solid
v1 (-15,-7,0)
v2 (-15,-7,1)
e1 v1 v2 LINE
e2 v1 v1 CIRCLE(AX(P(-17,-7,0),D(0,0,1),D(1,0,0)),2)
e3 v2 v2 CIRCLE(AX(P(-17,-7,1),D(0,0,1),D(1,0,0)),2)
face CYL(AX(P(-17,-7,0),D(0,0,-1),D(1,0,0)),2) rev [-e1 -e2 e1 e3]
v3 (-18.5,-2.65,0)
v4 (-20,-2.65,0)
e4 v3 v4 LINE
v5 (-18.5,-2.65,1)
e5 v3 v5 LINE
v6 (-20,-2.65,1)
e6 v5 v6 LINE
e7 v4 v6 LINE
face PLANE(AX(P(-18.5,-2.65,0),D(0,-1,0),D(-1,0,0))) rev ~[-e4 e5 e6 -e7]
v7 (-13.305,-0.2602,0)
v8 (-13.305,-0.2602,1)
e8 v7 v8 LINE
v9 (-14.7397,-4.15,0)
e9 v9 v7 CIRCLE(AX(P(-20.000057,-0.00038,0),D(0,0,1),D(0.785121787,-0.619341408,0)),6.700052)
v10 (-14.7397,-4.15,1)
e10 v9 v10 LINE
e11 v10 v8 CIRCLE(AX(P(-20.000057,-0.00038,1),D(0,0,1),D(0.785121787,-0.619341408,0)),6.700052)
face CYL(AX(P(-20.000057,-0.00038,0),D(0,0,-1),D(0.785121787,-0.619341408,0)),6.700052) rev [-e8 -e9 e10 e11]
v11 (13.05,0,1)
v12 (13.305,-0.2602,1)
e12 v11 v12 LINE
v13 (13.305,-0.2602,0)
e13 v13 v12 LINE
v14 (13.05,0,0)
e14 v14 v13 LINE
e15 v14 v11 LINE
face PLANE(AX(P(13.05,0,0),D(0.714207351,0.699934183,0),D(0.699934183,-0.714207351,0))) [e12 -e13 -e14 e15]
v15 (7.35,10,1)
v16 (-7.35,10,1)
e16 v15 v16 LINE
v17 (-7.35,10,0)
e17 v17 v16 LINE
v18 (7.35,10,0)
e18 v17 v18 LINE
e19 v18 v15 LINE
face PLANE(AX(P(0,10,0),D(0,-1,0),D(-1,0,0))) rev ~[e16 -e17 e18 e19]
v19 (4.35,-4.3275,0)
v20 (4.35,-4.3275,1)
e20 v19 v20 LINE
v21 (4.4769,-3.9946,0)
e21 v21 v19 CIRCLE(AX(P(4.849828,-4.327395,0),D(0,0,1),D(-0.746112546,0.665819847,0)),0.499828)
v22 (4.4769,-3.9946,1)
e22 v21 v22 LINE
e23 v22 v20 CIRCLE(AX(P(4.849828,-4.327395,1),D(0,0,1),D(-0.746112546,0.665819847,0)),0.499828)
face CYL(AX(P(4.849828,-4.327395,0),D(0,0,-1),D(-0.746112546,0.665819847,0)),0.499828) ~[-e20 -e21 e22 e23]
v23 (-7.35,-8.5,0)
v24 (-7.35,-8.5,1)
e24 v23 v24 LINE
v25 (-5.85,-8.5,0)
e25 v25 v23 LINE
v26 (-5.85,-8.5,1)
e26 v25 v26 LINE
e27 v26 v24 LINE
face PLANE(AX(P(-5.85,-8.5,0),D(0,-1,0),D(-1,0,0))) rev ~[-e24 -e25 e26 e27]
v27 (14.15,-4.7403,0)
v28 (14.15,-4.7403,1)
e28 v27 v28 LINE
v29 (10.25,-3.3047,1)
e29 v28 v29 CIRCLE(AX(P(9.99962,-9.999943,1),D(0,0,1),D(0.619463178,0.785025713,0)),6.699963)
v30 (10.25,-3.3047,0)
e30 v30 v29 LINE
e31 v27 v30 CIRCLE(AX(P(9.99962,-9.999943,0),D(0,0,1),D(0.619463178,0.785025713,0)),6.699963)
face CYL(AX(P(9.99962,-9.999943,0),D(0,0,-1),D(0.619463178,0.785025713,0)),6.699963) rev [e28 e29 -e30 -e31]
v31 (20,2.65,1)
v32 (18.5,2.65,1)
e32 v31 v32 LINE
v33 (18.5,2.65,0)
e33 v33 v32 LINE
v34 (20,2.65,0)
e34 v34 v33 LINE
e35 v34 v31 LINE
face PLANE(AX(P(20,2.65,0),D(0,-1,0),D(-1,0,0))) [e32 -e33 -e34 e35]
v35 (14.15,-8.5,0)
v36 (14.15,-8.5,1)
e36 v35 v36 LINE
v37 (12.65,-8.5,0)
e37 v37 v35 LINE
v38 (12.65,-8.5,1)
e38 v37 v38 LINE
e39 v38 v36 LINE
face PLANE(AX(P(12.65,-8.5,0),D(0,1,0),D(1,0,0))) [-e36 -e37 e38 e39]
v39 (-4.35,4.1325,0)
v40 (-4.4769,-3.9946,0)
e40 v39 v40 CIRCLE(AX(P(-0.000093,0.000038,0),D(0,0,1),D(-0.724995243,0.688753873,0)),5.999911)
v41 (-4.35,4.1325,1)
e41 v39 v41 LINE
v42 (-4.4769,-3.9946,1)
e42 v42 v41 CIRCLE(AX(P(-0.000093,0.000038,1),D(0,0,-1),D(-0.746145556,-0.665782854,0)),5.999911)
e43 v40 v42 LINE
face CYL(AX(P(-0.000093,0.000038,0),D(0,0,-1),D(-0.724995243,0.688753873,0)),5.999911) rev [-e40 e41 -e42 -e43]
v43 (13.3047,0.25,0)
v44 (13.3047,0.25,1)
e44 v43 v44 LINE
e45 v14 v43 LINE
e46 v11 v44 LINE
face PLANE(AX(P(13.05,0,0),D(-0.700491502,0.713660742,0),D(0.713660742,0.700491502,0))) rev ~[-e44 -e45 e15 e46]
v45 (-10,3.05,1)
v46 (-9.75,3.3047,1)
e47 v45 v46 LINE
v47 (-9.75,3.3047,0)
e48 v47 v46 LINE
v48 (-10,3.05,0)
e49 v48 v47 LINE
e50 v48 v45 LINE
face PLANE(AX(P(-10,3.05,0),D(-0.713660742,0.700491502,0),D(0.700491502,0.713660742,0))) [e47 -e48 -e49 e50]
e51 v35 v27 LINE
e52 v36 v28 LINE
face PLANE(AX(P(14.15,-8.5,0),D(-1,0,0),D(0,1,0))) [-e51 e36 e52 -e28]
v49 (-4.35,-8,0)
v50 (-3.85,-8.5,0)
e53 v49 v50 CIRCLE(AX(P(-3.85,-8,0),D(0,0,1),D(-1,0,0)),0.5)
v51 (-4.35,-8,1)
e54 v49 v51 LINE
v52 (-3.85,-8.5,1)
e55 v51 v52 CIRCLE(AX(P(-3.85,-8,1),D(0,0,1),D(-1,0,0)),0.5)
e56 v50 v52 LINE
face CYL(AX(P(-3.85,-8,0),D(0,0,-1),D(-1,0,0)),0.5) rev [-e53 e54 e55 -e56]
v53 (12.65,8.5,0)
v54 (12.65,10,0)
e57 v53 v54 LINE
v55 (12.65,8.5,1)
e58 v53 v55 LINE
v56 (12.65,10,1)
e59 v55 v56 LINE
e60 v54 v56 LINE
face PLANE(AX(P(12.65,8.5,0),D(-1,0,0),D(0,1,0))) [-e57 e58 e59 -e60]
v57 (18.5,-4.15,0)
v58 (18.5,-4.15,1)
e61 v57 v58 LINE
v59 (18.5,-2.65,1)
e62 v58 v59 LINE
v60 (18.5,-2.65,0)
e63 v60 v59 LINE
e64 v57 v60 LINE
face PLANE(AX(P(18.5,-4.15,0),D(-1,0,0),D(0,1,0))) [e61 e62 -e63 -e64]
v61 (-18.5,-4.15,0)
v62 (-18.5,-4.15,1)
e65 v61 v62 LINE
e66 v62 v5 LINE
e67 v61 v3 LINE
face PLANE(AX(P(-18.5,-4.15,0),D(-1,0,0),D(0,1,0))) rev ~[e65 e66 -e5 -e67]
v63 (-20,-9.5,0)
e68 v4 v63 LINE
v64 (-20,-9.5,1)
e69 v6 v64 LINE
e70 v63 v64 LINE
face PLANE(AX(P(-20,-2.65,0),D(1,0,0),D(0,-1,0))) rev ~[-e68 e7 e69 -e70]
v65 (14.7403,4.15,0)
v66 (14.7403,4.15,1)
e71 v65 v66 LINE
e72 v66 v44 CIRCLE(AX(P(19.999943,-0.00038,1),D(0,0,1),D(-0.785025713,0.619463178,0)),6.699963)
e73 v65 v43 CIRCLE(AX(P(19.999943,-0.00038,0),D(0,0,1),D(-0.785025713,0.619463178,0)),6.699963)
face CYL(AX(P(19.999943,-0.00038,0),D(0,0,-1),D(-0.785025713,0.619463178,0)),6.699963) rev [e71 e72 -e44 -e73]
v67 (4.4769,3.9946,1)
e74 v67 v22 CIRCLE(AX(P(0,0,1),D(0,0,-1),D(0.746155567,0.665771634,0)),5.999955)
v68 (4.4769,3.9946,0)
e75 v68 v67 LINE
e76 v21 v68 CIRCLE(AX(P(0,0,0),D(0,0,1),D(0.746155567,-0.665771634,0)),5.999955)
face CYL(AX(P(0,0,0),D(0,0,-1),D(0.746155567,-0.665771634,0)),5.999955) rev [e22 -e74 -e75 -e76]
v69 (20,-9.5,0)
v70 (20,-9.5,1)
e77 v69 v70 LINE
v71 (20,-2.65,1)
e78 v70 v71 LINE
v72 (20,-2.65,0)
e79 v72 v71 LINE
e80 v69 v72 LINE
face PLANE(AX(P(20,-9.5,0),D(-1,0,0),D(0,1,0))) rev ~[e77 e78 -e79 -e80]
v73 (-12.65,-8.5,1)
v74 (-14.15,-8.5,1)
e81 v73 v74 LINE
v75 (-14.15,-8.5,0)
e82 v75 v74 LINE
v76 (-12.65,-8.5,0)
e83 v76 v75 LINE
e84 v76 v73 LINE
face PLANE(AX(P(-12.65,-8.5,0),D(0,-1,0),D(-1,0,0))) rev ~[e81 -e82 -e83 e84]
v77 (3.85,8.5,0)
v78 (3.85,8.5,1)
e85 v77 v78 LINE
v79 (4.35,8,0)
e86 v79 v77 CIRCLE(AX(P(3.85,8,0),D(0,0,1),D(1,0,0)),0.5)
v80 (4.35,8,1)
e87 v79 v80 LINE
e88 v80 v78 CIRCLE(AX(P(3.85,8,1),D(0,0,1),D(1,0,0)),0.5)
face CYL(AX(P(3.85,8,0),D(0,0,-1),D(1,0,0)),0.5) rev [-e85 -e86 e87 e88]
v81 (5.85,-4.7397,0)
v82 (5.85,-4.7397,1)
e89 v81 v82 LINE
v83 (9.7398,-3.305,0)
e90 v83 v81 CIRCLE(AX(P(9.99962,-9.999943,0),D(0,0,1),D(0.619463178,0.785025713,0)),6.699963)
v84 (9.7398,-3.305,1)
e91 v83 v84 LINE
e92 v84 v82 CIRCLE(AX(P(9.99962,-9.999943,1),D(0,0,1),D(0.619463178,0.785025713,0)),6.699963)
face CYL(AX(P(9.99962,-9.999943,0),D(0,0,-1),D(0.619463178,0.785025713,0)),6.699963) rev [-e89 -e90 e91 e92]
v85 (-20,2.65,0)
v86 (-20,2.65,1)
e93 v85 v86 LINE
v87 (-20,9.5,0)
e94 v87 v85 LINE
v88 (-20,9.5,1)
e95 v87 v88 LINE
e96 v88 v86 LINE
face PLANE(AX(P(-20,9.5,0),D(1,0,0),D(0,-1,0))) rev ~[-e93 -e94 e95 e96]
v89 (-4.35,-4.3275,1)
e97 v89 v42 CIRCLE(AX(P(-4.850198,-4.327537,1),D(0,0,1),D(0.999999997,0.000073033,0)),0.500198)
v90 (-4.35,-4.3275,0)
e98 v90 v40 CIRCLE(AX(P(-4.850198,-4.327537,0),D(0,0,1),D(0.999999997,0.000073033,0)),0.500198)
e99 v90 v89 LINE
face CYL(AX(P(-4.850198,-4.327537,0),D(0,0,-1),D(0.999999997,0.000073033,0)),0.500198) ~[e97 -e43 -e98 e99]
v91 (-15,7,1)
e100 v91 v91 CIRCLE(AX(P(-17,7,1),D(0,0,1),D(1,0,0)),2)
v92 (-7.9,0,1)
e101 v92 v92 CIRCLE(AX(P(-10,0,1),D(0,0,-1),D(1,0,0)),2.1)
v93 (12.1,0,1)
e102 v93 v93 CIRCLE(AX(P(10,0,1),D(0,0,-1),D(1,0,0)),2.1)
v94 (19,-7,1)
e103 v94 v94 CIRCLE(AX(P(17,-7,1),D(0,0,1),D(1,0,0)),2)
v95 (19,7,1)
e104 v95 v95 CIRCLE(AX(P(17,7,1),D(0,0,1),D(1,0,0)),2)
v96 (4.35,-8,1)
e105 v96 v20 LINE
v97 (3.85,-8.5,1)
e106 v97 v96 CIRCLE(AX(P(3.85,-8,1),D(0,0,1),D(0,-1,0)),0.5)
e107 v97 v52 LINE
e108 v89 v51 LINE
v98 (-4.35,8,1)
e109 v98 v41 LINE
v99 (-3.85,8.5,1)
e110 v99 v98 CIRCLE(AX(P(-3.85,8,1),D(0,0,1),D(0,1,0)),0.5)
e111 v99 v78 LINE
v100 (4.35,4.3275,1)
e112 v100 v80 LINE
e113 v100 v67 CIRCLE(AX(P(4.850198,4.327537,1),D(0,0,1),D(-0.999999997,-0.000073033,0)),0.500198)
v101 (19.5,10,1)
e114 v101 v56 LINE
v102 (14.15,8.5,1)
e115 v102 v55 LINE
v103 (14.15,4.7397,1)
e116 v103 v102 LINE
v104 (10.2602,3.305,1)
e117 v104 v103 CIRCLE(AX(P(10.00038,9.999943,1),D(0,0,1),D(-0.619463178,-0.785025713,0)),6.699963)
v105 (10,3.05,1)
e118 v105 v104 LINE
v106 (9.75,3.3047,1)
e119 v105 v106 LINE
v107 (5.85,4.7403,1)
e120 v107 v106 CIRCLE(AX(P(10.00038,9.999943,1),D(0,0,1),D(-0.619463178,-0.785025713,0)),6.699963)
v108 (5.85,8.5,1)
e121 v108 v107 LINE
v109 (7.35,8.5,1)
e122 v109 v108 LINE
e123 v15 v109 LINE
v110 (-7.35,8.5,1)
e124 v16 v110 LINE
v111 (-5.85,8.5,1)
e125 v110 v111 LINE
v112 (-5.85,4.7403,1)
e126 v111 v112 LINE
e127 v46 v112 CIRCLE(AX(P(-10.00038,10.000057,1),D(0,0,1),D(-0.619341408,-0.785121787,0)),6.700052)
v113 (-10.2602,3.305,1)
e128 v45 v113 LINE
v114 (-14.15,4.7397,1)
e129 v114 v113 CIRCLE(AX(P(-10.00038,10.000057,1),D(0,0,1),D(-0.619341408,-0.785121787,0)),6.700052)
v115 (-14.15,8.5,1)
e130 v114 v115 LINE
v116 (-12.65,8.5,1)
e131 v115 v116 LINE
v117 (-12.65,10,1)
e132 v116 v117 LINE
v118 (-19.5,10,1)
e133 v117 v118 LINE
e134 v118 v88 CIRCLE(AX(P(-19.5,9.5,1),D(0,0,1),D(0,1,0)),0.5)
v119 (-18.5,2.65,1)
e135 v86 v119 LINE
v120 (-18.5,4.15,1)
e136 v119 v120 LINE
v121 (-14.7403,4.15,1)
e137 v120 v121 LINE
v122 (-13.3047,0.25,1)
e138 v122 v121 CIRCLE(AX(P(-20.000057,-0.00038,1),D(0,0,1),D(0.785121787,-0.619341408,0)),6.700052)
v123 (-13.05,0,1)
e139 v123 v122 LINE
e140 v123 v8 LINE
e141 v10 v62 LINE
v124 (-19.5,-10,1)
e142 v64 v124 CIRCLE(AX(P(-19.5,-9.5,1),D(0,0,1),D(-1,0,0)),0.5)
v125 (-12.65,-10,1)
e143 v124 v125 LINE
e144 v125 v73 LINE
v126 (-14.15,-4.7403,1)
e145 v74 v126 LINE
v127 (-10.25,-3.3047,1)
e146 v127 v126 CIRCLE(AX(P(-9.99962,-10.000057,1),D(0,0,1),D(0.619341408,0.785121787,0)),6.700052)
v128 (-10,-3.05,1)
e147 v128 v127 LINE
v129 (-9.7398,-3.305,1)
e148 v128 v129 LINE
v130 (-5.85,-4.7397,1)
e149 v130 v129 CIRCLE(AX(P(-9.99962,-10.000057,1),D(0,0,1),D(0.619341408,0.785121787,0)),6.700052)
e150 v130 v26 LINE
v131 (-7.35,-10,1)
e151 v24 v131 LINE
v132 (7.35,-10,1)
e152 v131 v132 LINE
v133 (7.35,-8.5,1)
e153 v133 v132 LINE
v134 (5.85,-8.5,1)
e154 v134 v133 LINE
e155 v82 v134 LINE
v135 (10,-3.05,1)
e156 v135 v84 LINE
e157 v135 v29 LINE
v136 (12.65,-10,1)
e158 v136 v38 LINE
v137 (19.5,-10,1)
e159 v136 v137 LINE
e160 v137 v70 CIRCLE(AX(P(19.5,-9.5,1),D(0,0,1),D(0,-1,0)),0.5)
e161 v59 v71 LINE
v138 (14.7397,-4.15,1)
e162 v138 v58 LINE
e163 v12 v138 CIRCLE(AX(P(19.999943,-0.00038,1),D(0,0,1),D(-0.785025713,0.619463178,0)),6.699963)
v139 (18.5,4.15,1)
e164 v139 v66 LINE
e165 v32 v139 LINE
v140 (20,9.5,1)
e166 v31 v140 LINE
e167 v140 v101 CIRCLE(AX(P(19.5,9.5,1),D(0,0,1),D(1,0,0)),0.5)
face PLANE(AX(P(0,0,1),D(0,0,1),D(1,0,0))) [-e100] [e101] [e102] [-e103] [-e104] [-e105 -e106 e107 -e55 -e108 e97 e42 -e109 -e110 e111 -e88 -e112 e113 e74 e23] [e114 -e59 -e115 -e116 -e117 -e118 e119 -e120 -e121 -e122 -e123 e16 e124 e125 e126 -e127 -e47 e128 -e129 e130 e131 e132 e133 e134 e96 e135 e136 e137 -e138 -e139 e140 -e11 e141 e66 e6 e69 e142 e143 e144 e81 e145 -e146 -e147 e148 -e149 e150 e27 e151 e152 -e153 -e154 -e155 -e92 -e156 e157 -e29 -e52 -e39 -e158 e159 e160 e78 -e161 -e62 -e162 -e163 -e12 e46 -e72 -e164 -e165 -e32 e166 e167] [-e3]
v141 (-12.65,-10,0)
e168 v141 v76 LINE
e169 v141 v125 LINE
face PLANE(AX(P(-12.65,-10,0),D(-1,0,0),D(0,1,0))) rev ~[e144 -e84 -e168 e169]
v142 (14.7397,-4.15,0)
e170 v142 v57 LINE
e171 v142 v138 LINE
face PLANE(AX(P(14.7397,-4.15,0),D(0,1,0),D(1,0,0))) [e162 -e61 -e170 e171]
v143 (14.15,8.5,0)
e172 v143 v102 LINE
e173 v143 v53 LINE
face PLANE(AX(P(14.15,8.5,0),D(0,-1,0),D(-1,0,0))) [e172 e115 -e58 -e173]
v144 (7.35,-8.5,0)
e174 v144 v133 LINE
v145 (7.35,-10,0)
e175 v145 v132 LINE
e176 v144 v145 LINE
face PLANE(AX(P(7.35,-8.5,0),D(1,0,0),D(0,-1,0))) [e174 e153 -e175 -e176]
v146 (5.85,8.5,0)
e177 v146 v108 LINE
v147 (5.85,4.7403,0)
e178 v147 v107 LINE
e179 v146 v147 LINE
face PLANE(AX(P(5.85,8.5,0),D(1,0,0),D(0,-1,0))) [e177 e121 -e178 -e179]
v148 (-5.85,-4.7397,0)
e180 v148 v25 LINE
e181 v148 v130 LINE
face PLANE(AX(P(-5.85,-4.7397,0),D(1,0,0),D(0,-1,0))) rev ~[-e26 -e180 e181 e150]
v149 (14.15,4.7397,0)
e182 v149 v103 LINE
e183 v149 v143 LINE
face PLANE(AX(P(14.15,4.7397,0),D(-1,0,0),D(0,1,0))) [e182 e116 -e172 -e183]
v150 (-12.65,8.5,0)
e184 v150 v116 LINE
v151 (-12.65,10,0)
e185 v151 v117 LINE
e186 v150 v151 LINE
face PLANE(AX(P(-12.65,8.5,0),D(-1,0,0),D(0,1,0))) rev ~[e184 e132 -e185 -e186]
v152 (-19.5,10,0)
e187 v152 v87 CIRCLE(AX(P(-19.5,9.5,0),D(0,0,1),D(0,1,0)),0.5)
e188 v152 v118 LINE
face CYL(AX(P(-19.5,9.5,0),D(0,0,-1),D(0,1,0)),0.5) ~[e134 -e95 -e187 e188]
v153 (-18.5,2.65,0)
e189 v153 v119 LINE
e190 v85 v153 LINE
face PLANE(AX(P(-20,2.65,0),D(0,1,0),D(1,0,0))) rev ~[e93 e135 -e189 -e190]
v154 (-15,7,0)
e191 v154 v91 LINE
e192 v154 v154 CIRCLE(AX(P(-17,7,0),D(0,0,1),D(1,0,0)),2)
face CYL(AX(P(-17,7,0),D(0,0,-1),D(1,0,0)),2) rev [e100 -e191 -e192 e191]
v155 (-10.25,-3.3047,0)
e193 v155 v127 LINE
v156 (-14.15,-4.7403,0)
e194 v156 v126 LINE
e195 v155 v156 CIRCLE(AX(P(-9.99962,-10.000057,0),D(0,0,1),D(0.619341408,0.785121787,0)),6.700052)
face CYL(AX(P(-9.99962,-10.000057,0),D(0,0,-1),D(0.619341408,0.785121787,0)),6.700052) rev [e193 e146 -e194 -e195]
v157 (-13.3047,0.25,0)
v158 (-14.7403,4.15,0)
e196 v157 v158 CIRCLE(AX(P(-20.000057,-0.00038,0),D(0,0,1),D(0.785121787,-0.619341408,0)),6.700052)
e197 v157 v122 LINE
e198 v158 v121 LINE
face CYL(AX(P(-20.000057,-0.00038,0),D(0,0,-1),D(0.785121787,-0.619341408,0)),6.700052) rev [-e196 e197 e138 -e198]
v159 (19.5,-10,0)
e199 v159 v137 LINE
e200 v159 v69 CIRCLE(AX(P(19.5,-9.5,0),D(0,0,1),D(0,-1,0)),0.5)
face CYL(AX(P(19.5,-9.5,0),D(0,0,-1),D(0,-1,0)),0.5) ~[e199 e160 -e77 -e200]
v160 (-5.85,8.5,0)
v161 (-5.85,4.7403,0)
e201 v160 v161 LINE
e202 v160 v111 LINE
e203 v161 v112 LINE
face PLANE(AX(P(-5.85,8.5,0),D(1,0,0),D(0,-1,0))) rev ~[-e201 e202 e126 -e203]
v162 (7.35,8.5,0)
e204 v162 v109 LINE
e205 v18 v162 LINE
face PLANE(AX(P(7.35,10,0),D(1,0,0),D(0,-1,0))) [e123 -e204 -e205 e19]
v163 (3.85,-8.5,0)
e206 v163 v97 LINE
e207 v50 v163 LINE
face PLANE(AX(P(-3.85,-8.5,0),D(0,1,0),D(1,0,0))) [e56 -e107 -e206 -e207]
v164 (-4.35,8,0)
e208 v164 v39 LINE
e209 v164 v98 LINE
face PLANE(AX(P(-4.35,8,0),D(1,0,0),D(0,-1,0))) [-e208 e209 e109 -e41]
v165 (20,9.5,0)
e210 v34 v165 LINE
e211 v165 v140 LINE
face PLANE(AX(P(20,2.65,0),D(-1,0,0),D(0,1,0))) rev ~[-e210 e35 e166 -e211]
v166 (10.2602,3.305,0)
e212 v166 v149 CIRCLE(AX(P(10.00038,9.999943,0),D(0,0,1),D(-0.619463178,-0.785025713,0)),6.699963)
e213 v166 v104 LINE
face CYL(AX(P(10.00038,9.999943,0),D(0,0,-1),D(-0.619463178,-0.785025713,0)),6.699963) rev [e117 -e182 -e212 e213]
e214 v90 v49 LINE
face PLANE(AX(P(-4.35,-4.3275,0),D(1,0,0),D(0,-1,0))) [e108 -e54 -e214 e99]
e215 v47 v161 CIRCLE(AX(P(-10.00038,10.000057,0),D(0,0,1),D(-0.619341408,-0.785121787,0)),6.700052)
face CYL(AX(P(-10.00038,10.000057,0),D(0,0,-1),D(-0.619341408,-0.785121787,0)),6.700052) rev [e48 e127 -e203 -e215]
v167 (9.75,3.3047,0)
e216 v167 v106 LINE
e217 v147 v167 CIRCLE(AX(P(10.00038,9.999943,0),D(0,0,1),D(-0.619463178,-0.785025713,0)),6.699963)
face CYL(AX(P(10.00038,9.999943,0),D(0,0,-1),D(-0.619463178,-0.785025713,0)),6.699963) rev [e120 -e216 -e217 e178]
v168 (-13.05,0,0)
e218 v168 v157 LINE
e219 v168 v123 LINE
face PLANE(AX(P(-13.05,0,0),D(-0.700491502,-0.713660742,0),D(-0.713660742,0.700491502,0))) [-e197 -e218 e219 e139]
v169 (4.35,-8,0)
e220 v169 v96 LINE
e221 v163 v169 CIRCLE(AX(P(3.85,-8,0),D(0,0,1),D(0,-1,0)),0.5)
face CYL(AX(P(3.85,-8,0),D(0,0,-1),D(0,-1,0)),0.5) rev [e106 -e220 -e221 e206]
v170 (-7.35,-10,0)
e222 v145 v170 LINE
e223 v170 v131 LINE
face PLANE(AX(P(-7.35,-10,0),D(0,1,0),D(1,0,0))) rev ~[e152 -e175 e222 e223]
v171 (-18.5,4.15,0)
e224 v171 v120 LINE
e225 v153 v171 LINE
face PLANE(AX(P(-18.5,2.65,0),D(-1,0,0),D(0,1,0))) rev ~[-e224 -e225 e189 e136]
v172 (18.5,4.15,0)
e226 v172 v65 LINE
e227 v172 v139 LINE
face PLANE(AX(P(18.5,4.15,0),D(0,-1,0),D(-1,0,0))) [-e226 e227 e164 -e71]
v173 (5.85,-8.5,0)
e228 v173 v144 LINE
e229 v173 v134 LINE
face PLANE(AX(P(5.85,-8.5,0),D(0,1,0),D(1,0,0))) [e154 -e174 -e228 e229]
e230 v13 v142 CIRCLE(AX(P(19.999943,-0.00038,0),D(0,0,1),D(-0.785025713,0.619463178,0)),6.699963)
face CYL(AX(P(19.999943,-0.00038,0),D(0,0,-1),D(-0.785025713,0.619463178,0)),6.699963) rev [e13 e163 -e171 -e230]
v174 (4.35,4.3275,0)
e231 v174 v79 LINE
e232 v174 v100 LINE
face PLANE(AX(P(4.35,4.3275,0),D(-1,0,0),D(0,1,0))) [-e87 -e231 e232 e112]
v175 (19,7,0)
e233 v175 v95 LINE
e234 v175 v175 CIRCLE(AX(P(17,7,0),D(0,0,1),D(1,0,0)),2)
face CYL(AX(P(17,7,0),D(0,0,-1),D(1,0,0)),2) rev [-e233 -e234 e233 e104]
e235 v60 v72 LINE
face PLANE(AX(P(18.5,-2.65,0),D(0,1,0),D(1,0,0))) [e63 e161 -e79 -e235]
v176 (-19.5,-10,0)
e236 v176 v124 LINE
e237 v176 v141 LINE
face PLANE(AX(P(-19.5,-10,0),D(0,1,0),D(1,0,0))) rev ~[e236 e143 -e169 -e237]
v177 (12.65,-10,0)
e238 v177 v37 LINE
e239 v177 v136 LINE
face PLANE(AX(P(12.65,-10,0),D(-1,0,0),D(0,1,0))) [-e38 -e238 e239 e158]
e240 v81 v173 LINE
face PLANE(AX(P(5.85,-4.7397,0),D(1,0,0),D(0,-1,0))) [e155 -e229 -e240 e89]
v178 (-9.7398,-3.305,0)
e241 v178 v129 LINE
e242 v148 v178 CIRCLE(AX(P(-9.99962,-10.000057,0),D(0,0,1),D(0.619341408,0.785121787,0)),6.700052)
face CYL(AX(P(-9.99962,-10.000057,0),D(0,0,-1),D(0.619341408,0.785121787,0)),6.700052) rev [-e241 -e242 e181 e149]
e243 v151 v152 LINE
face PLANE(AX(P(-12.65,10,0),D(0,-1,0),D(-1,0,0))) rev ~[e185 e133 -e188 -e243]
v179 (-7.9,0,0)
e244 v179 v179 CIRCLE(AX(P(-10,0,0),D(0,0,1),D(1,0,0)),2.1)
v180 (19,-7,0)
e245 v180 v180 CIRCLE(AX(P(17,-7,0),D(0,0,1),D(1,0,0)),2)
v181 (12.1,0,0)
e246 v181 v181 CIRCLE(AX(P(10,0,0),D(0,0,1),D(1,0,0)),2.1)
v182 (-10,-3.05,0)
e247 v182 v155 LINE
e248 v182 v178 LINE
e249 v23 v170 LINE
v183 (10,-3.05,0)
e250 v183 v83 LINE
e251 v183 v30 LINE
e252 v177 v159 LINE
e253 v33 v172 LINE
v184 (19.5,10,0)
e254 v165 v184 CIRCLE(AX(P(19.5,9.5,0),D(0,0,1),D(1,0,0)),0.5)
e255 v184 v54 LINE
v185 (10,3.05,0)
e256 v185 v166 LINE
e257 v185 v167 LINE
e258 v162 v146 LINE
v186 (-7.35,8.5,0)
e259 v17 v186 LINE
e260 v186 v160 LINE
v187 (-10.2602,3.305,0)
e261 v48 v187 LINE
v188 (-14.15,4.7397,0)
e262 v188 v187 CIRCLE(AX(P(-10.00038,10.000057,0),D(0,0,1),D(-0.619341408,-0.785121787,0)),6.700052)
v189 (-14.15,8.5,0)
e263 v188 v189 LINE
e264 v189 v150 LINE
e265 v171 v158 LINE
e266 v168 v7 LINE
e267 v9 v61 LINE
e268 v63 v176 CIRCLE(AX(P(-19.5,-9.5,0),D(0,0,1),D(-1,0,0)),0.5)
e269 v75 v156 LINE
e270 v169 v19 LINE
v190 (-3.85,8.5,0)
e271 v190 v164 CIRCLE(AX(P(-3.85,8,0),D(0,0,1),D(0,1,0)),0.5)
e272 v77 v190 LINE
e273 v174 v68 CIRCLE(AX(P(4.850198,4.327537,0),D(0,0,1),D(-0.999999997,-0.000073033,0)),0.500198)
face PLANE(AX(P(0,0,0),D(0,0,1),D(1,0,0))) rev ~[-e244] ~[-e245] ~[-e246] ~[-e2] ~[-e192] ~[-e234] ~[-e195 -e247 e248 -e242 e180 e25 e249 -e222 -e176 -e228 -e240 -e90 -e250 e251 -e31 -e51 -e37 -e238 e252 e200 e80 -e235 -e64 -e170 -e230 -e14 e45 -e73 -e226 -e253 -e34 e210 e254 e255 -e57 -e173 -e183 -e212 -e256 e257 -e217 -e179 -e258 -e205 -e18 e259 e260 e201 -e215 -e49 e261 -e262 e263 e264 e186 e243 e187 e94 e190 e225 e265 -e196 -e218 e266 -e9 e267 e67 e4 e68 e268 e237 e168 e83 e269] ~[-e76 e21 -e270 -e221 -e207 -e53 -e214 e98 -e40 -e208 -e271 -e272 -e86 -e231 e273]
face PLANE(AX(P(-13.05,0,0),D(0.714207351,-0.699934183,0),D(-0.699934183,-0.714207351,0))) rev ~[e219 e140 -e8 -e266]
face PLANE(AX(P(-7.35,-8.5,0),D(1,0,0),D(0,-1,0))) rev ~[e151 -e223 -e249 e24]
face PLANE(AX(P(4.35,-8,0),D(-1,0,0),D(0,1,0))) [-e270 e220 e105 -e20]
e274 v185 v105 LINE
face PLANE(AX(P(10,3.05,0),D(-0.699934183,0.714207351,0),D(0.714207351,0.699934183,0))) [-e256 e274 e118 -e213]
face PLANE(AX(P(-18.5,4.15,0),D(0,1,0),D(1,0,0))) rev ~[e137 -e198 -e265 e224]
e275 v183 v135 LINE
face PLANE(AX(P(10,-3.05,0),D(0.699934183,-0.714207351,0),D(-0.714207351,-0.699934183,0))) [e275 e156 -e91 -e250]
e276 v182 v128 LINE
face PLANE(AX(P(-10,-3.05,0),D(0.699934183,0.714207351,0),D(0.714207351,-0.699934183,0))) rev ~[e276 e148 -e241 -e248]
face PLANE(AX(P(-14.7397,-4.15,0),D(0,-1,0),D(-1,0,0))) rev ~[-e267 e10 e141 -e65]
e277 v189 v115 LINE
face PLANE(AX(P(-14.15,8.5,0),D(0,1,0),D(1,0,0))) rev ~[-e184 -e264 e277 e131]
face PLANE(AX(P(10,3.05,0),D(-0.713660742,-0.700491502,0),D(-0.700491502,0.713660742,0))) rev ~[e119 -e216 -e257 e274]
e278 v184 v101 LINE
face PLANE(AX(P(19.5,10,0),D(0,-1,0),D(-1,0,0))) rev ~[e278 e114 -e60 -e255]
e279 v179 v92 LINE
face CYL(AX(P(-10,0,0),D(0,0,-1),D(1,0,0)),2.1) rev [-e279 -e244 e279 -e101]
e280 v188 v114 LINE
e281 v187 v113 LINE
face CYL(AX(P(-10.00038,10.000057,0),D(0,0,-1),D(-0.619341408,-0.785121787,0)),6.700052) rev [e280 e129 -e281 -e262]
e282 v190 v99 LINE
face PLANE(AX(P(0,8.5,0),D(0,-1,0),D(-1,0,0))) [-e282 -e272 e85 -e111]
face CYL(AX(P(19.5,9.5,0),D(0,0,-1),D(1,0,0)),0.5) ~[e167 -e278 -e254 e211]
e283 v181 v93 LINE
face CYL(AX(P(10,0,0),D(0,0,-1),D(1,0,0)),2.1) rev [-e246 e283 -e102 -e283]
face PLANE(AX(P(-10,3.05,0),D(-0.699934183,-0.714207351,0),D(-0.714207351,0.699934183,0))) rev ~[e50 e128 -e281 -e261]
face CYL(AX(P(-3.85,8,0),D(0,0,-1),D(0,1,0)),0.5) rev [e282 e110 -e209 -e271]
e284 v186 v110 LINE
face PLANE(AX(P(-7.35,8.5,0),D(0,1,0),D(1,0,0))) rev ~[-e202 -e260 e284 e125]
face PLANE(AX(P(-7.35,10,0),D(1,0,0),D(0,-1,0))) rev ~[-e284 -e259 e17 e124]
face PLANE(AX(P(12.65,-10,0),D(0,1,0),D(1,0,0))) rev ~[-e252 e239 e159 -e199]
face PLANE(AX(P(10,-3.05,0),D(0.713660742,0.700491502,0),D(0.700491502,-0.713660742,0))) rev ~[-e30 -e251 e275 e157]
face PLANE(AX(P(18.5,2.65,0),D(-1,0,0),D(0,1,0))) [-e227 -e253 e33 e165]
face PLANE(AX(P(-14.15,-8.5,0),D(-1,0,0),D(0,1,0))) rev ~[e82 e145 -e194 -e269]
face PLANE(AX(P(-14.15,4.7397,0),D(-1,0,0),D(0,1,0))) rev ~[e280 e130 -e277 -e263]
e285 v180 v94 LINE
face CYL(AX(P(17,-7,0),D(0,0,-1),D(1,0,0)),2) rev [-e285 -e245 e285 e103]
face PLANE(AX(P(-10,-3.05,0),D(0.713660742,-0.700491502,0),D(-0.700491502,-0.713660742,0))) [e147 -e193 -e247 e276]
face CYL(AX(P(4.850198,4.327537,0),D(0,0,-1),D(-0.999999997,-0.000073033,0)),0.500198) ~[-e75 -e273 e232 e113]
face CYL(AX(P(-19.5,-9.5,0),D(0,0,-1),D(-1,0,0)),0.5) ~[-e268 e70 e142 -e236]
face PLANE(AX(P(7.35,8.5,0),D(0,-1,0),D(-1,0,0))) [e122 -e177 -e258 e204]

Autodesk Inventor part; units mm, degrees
ref_plane "YZ Plane" through (0, 0, 0) normal (1, 0, 0) x (0, 1, 0)
ref_plane "XZ Plane" through (0, 0, 0) normal (0, 1, 0) x (-1, 0, 0)
ref_plane "XY Plane" through (0, 0, 0) normal (0, 0, 1) x (1, 0, 0)
sketch "스케치1" plane through (0, 0, 0) normal (0, 0, 1) x (1, 0, 0)
  line L0 (-19.5, -10) -> (19.5, -10)
  line L1 (20, -9.5) -> (20, 9.5)
  line L2 (19.5, 10) -> (-19.5, 10)
  line L3 (-20, 9.5) -> (-20, -9.5)
  circle A0 centre (-17, 7) radius 2
  line L4 (0, -12.143) -> (0, 11.1651)
  line L5 (28.9925, 0) -> (-24.8769, 0)
  circle A1 centre (-10, 0) radius 2.1
  line L6 (-10, 12.7543) -> (-10, -12.5913)
  line L7 (10, -12.5913) -> (10, 12.7543)
  circle A2 centre (10, 0) radius 2.1
  line L8 (-12.65, -10) -> (-12.65, -8.5)
  line L9 (-12.65, -8.5) -> (-14.15, -8.5)
  line L10 (-14.15, -8.5) -> (-14.15, -4.7403)
  line L11 (-5.85, -4.7397) -> (-5.85, -8.5)
  line L12 (-5.85, -8.5) -> (-7.35, -8.5)
  line L13 (-7.35, -8.5) -> (-7.35, -10)
  arc A3 (-5.85, -4.7397) -> (-14.15, -4.7403) centre (-9.9996, -10) ccw
  line L14 (-10, -3.05) -> (-10.25, -3.3047)
  line L15 (-10, -3.05) -> (-9.7398, -3.305)
  line L16 (12.65, -10) -> (12.65, -8.5)
  line L17 (12.65, -8.5) -> (14.15, -8.5)
  line L18 (14.15, -8.5) -> (14.15, -4.7403)
  line L19 (5.85, -4.7397) -> (5.85, -8.5)
  line L20 (5.85, -8.5) -> (7.35, -8.5)
  line L21 (7.35, -8.5) -> (7.35, -10)
  arc A4 (14.15, -4.7403) -> (5.85, -4.7397) centre (9.9996, -10) ccw
  line L22 (10, -3.05) -> (10.25, -3.3047)
  line L23 (10, -3.05) -> (9.7398, -3.305)
  line L24 (-20, 2.65) -> (-18.5, 2.65)
  line L25 (-18.5, 2.65) -> (-18.5, 4.15)
  line L26 (-18.5, 4.15) -> (-14.7403, 4.15)
  line L27 (-14.7397, -4.15) -> (-18.5, -4.15)
  line L28 (-18.5, -4.15) -> (-18.5, -2.65)
  line L29 (-18.5, -2.65) -> (-20, -2.65)
  line L30 (-13.05, 0) -> (-13.305, -0.2602)
  line L31 (-13.05, 0) -> (-13.3047, 0.25)
  arc A5 (-14.7397, -4.15) -> (-14.7403, 4.15) centre (-20, -0.0004) ccw
  line L32 (-7.35, 10) -> (-7.35, 8.5)
  line L33 (-7.35, 8.5) -> (-5.85, 8.5)
  line L34 (-5.85, 8.5) -> (-5.85, 4.7403)
  line L35 (-14.15, 4.7397) -> (-14.15, 8.5)
  line L36 (-14.15, 8.5) -> (-12.65, 8.5)
  line L37 (-12.65, 8.5) -> (-12.65, 10)
  line L38 (-10, 3.05) -> (-10.2602, 3.305)
  line L39 (-10, 3.05) -> (-9.75, 3.3047)
  arc A6 (-14.15, 4.7397) -> (-5.85, 4.7403) centre (-10.0004, 10) ccw
  line L40 (14.7397, -4.15) -> (18.5, -4.15)
  line L41 (18.5, -4.15) -> (18.5, -2.65)
  line L42 (18.5, -2.65) -> (20, -2.65)
  arc A7 (14.7403, 4.15) -> (14.7397, -4.15) centre (20, -0.0004) ccw
  line L43 (20, 2.65) -> (18.5, 2.65)
  line L44 (18.5, 2.65) -> (18.5, 4.15)
  line L45 (18.5, 4.15) -> (14.7403, 4.15)
  line L46 (13.05, 0) -> (13.305, -0.2602)
  line L47 (13.05, 0) -> (13.3047, 0.25)
  line L48 (14.15, 4.7397) -> (14.15, 8.5)
  line L49 (14.15, 8.5) -> (12.65, 8.5)
  line L50 (12.65, 8.5) -> (12.65, 10)
  arc A8 (5.85, 4.7403) -> (14.15, 4.7397) centre (10.0004, 10) ccw
  line L51 (7.35, 10) -> (7.35, 8.5)
  line L52 (7.35, 8.5) -> (5.85, 8.5)
  line L53 (5.85, 8.5) -> (5.85, 4.7403)
  line L54 (10, 3.05) -> (10.2602, 3.305)
  line L55 (10, 3.05) -> (9.75, 3.3047)
  circle A9 centre (-17, -7) radius 2
  circle A10 centre (17, 7) radius 2
  circle A11 centre (17, -7) radius 2
  line L56 (-3.85, -8.5) -> (3.85, -8.5)
  line L57 (3.85, 8.5) -> (-3.85, 8.5)
  line L58 (-4.35, -8.5) -> (4.35, 8.5) construction
  line L59 (4.35, -8.5) -> (-4.35, 8.5) construction
  arc A12 (-3.85, 8.5) -> (-4.35, 8) centre (-3.85, 8) ccw
  arc A13 (4.35, 8) -> (3.85, 8.5) centre (3.85, 8) ccw
  arc A14 (3.85, -8.5) -> (4.35, -8) centre (3.85, -8) ccw
  arc A15 (-4.35, -8) -> (-3.85, -8.5) centre (-3.85, -8) ccw
  line L60 (-4.35, 8) -> (-4.35, 4.1325)
  line L61 (-4.35, -4.3275) -> (-4.35, -8)
  line L62 (4.35, -8) -> (4.35, -4.3275)
  line L63 (4.35, 4.3275) -> (4.35, 8)
  arc A16 (4.4769, -3.9946) -> (4.4769, 3.9946) centre (0, 0) ccw
  arc A17 (-4.35, 4.1325) -> (-4.4769, -3.9946) centre (0, 0) ccw
  arc A18 (-4.35, -4.3275) -> (-4.4769, -3.9946) centre (-4.85, -4.3275) ccw
  arc A19 (4.35, 4.3275) -> (4.4769, 3.9946) centre (4.85, 4.3275) ccw
  arc A20 (4.4769, -3.9946) -> (4.35, -4.3275) centre (4.85, -4.3275) ccw
  arc A21 (-19.5, 10) -> (-20, 9.5) centre (-19.5, 9.5) ccw
  arc A22 (-20, -9.5) -> (-19.5, -10) centre (-19.5, -9.5) ccw
  arc A23 (19.5, -10) -> (20, -9.5) centre (19.5, -9.5) ccw
  arc A24 (20, 9.5) -> (19.5, 10) centre (19.5, 9.5) ccw
  point P0 (20, 10)
  point P1 (20, -10)
  point P2 (-20, 10)
  point P3 (-14.15, -6.6202)
  point P4 (-12.65, -9.25)
  point P5 (-10.0001, -3.3)
  point P6 (14.15, -6.6202)
  point P7 (12.65, -9.25)
  point P8 (10.0001, -3.3)
  point P9 (-19.25, 2.65)
  point P10 (-16.6202, 4.15)
  point P11 (-13.3, 0.0001)
  point P12 (-7.35, 9.25)
  point P13 (-5.85, 6.6202)
  point P14 (-9.9999, 3.3)
  point P15 (13.3, 0.0001)
  point P16 (19.25, 2.65)
  point P17 (16.6202, 4.15)
  point P18 (22.5913, 0)
  point P19 (9.9999, 3.3)
  point P20 (7.35, 9.25)
  point P21 (5.85, 6.6202)
  point P22 (10, 12.5913)
  point P23 (-5.85, -6.6199)
  point P24 (-4.35, -4.1325)
  point P25 (4.35, -4.1325)
  point P26 (4.35, 4.1325)
  point P27 (4.35, 6.1638)
  point P28 (-4.35, 6.0662)
  dimension "d0" = 40
  dimension "d1" = 20
  dimension "d2" = 4
  dimension "d3" = 34
  dimension "d4" = 14
  dimension "d5" = 4.2
  dimension "d6" = 20
  dimension "d8" = 4.2
  dimension "d9" = 20
  dimension "d12" = 1.5
  dimension "d13" = 6.7
  dimension "d14" = 8.3
  dimension "d15" = 5.3
  dimension "d16" = 5.3
  dimension "d17" = 8.3
  dimension "d18" = 6.7
  dimension "d19" = 0.5
  dimension "d20" = 0.25
  dimension "d23" = 180
  dimension "d27" = 180
  dimension "d29" = 1.5
  dimension "d31" = 1.5
  dimension "d32" = 0.5
  dimension "d33" = 0.5
  dimension "d34" = 0.5
  dimension "d35" = 8.7
extrude "돌출1" add sketch "스케치1" along normal blind 1 contours A22 L3 L29 L28 L27 A5 L30 L5 A1 L6 L14 A3 L10 L9 L8 L0 | L13 L12 L11 A3 L15 L6 A1 L5 A17 A18 L61 A15 L56 L4 L0 | L4 L56 A14 L62 A20 A16 L5 A2 L7 L23 A4 L19 L20 L21 L0 | L3 A21 L2 L37 L36 L35 A6 L38 L6 A1 L5 L31 A5 L26 L25 L24 | A1 L6 L39 A6 L34 L33 L32 L2 L4 L57 A12 L60 A17 L5 | L16 L17 L18 A4 L22 L7 A2 L5 L46 A7 L40 L41 L42 L1 A23 L0 | L4 L2 L51 L52 L53 A8 L55 L7 A2 L5 A16 A19 L63 A13 L57 | L7 L54 A8 L48 L49 L50 L2 A24 L1 L43 L44 L45 A7 L47 L5 A2
equation "\"d8\" = d5"
properties part number "20x40 profile"
